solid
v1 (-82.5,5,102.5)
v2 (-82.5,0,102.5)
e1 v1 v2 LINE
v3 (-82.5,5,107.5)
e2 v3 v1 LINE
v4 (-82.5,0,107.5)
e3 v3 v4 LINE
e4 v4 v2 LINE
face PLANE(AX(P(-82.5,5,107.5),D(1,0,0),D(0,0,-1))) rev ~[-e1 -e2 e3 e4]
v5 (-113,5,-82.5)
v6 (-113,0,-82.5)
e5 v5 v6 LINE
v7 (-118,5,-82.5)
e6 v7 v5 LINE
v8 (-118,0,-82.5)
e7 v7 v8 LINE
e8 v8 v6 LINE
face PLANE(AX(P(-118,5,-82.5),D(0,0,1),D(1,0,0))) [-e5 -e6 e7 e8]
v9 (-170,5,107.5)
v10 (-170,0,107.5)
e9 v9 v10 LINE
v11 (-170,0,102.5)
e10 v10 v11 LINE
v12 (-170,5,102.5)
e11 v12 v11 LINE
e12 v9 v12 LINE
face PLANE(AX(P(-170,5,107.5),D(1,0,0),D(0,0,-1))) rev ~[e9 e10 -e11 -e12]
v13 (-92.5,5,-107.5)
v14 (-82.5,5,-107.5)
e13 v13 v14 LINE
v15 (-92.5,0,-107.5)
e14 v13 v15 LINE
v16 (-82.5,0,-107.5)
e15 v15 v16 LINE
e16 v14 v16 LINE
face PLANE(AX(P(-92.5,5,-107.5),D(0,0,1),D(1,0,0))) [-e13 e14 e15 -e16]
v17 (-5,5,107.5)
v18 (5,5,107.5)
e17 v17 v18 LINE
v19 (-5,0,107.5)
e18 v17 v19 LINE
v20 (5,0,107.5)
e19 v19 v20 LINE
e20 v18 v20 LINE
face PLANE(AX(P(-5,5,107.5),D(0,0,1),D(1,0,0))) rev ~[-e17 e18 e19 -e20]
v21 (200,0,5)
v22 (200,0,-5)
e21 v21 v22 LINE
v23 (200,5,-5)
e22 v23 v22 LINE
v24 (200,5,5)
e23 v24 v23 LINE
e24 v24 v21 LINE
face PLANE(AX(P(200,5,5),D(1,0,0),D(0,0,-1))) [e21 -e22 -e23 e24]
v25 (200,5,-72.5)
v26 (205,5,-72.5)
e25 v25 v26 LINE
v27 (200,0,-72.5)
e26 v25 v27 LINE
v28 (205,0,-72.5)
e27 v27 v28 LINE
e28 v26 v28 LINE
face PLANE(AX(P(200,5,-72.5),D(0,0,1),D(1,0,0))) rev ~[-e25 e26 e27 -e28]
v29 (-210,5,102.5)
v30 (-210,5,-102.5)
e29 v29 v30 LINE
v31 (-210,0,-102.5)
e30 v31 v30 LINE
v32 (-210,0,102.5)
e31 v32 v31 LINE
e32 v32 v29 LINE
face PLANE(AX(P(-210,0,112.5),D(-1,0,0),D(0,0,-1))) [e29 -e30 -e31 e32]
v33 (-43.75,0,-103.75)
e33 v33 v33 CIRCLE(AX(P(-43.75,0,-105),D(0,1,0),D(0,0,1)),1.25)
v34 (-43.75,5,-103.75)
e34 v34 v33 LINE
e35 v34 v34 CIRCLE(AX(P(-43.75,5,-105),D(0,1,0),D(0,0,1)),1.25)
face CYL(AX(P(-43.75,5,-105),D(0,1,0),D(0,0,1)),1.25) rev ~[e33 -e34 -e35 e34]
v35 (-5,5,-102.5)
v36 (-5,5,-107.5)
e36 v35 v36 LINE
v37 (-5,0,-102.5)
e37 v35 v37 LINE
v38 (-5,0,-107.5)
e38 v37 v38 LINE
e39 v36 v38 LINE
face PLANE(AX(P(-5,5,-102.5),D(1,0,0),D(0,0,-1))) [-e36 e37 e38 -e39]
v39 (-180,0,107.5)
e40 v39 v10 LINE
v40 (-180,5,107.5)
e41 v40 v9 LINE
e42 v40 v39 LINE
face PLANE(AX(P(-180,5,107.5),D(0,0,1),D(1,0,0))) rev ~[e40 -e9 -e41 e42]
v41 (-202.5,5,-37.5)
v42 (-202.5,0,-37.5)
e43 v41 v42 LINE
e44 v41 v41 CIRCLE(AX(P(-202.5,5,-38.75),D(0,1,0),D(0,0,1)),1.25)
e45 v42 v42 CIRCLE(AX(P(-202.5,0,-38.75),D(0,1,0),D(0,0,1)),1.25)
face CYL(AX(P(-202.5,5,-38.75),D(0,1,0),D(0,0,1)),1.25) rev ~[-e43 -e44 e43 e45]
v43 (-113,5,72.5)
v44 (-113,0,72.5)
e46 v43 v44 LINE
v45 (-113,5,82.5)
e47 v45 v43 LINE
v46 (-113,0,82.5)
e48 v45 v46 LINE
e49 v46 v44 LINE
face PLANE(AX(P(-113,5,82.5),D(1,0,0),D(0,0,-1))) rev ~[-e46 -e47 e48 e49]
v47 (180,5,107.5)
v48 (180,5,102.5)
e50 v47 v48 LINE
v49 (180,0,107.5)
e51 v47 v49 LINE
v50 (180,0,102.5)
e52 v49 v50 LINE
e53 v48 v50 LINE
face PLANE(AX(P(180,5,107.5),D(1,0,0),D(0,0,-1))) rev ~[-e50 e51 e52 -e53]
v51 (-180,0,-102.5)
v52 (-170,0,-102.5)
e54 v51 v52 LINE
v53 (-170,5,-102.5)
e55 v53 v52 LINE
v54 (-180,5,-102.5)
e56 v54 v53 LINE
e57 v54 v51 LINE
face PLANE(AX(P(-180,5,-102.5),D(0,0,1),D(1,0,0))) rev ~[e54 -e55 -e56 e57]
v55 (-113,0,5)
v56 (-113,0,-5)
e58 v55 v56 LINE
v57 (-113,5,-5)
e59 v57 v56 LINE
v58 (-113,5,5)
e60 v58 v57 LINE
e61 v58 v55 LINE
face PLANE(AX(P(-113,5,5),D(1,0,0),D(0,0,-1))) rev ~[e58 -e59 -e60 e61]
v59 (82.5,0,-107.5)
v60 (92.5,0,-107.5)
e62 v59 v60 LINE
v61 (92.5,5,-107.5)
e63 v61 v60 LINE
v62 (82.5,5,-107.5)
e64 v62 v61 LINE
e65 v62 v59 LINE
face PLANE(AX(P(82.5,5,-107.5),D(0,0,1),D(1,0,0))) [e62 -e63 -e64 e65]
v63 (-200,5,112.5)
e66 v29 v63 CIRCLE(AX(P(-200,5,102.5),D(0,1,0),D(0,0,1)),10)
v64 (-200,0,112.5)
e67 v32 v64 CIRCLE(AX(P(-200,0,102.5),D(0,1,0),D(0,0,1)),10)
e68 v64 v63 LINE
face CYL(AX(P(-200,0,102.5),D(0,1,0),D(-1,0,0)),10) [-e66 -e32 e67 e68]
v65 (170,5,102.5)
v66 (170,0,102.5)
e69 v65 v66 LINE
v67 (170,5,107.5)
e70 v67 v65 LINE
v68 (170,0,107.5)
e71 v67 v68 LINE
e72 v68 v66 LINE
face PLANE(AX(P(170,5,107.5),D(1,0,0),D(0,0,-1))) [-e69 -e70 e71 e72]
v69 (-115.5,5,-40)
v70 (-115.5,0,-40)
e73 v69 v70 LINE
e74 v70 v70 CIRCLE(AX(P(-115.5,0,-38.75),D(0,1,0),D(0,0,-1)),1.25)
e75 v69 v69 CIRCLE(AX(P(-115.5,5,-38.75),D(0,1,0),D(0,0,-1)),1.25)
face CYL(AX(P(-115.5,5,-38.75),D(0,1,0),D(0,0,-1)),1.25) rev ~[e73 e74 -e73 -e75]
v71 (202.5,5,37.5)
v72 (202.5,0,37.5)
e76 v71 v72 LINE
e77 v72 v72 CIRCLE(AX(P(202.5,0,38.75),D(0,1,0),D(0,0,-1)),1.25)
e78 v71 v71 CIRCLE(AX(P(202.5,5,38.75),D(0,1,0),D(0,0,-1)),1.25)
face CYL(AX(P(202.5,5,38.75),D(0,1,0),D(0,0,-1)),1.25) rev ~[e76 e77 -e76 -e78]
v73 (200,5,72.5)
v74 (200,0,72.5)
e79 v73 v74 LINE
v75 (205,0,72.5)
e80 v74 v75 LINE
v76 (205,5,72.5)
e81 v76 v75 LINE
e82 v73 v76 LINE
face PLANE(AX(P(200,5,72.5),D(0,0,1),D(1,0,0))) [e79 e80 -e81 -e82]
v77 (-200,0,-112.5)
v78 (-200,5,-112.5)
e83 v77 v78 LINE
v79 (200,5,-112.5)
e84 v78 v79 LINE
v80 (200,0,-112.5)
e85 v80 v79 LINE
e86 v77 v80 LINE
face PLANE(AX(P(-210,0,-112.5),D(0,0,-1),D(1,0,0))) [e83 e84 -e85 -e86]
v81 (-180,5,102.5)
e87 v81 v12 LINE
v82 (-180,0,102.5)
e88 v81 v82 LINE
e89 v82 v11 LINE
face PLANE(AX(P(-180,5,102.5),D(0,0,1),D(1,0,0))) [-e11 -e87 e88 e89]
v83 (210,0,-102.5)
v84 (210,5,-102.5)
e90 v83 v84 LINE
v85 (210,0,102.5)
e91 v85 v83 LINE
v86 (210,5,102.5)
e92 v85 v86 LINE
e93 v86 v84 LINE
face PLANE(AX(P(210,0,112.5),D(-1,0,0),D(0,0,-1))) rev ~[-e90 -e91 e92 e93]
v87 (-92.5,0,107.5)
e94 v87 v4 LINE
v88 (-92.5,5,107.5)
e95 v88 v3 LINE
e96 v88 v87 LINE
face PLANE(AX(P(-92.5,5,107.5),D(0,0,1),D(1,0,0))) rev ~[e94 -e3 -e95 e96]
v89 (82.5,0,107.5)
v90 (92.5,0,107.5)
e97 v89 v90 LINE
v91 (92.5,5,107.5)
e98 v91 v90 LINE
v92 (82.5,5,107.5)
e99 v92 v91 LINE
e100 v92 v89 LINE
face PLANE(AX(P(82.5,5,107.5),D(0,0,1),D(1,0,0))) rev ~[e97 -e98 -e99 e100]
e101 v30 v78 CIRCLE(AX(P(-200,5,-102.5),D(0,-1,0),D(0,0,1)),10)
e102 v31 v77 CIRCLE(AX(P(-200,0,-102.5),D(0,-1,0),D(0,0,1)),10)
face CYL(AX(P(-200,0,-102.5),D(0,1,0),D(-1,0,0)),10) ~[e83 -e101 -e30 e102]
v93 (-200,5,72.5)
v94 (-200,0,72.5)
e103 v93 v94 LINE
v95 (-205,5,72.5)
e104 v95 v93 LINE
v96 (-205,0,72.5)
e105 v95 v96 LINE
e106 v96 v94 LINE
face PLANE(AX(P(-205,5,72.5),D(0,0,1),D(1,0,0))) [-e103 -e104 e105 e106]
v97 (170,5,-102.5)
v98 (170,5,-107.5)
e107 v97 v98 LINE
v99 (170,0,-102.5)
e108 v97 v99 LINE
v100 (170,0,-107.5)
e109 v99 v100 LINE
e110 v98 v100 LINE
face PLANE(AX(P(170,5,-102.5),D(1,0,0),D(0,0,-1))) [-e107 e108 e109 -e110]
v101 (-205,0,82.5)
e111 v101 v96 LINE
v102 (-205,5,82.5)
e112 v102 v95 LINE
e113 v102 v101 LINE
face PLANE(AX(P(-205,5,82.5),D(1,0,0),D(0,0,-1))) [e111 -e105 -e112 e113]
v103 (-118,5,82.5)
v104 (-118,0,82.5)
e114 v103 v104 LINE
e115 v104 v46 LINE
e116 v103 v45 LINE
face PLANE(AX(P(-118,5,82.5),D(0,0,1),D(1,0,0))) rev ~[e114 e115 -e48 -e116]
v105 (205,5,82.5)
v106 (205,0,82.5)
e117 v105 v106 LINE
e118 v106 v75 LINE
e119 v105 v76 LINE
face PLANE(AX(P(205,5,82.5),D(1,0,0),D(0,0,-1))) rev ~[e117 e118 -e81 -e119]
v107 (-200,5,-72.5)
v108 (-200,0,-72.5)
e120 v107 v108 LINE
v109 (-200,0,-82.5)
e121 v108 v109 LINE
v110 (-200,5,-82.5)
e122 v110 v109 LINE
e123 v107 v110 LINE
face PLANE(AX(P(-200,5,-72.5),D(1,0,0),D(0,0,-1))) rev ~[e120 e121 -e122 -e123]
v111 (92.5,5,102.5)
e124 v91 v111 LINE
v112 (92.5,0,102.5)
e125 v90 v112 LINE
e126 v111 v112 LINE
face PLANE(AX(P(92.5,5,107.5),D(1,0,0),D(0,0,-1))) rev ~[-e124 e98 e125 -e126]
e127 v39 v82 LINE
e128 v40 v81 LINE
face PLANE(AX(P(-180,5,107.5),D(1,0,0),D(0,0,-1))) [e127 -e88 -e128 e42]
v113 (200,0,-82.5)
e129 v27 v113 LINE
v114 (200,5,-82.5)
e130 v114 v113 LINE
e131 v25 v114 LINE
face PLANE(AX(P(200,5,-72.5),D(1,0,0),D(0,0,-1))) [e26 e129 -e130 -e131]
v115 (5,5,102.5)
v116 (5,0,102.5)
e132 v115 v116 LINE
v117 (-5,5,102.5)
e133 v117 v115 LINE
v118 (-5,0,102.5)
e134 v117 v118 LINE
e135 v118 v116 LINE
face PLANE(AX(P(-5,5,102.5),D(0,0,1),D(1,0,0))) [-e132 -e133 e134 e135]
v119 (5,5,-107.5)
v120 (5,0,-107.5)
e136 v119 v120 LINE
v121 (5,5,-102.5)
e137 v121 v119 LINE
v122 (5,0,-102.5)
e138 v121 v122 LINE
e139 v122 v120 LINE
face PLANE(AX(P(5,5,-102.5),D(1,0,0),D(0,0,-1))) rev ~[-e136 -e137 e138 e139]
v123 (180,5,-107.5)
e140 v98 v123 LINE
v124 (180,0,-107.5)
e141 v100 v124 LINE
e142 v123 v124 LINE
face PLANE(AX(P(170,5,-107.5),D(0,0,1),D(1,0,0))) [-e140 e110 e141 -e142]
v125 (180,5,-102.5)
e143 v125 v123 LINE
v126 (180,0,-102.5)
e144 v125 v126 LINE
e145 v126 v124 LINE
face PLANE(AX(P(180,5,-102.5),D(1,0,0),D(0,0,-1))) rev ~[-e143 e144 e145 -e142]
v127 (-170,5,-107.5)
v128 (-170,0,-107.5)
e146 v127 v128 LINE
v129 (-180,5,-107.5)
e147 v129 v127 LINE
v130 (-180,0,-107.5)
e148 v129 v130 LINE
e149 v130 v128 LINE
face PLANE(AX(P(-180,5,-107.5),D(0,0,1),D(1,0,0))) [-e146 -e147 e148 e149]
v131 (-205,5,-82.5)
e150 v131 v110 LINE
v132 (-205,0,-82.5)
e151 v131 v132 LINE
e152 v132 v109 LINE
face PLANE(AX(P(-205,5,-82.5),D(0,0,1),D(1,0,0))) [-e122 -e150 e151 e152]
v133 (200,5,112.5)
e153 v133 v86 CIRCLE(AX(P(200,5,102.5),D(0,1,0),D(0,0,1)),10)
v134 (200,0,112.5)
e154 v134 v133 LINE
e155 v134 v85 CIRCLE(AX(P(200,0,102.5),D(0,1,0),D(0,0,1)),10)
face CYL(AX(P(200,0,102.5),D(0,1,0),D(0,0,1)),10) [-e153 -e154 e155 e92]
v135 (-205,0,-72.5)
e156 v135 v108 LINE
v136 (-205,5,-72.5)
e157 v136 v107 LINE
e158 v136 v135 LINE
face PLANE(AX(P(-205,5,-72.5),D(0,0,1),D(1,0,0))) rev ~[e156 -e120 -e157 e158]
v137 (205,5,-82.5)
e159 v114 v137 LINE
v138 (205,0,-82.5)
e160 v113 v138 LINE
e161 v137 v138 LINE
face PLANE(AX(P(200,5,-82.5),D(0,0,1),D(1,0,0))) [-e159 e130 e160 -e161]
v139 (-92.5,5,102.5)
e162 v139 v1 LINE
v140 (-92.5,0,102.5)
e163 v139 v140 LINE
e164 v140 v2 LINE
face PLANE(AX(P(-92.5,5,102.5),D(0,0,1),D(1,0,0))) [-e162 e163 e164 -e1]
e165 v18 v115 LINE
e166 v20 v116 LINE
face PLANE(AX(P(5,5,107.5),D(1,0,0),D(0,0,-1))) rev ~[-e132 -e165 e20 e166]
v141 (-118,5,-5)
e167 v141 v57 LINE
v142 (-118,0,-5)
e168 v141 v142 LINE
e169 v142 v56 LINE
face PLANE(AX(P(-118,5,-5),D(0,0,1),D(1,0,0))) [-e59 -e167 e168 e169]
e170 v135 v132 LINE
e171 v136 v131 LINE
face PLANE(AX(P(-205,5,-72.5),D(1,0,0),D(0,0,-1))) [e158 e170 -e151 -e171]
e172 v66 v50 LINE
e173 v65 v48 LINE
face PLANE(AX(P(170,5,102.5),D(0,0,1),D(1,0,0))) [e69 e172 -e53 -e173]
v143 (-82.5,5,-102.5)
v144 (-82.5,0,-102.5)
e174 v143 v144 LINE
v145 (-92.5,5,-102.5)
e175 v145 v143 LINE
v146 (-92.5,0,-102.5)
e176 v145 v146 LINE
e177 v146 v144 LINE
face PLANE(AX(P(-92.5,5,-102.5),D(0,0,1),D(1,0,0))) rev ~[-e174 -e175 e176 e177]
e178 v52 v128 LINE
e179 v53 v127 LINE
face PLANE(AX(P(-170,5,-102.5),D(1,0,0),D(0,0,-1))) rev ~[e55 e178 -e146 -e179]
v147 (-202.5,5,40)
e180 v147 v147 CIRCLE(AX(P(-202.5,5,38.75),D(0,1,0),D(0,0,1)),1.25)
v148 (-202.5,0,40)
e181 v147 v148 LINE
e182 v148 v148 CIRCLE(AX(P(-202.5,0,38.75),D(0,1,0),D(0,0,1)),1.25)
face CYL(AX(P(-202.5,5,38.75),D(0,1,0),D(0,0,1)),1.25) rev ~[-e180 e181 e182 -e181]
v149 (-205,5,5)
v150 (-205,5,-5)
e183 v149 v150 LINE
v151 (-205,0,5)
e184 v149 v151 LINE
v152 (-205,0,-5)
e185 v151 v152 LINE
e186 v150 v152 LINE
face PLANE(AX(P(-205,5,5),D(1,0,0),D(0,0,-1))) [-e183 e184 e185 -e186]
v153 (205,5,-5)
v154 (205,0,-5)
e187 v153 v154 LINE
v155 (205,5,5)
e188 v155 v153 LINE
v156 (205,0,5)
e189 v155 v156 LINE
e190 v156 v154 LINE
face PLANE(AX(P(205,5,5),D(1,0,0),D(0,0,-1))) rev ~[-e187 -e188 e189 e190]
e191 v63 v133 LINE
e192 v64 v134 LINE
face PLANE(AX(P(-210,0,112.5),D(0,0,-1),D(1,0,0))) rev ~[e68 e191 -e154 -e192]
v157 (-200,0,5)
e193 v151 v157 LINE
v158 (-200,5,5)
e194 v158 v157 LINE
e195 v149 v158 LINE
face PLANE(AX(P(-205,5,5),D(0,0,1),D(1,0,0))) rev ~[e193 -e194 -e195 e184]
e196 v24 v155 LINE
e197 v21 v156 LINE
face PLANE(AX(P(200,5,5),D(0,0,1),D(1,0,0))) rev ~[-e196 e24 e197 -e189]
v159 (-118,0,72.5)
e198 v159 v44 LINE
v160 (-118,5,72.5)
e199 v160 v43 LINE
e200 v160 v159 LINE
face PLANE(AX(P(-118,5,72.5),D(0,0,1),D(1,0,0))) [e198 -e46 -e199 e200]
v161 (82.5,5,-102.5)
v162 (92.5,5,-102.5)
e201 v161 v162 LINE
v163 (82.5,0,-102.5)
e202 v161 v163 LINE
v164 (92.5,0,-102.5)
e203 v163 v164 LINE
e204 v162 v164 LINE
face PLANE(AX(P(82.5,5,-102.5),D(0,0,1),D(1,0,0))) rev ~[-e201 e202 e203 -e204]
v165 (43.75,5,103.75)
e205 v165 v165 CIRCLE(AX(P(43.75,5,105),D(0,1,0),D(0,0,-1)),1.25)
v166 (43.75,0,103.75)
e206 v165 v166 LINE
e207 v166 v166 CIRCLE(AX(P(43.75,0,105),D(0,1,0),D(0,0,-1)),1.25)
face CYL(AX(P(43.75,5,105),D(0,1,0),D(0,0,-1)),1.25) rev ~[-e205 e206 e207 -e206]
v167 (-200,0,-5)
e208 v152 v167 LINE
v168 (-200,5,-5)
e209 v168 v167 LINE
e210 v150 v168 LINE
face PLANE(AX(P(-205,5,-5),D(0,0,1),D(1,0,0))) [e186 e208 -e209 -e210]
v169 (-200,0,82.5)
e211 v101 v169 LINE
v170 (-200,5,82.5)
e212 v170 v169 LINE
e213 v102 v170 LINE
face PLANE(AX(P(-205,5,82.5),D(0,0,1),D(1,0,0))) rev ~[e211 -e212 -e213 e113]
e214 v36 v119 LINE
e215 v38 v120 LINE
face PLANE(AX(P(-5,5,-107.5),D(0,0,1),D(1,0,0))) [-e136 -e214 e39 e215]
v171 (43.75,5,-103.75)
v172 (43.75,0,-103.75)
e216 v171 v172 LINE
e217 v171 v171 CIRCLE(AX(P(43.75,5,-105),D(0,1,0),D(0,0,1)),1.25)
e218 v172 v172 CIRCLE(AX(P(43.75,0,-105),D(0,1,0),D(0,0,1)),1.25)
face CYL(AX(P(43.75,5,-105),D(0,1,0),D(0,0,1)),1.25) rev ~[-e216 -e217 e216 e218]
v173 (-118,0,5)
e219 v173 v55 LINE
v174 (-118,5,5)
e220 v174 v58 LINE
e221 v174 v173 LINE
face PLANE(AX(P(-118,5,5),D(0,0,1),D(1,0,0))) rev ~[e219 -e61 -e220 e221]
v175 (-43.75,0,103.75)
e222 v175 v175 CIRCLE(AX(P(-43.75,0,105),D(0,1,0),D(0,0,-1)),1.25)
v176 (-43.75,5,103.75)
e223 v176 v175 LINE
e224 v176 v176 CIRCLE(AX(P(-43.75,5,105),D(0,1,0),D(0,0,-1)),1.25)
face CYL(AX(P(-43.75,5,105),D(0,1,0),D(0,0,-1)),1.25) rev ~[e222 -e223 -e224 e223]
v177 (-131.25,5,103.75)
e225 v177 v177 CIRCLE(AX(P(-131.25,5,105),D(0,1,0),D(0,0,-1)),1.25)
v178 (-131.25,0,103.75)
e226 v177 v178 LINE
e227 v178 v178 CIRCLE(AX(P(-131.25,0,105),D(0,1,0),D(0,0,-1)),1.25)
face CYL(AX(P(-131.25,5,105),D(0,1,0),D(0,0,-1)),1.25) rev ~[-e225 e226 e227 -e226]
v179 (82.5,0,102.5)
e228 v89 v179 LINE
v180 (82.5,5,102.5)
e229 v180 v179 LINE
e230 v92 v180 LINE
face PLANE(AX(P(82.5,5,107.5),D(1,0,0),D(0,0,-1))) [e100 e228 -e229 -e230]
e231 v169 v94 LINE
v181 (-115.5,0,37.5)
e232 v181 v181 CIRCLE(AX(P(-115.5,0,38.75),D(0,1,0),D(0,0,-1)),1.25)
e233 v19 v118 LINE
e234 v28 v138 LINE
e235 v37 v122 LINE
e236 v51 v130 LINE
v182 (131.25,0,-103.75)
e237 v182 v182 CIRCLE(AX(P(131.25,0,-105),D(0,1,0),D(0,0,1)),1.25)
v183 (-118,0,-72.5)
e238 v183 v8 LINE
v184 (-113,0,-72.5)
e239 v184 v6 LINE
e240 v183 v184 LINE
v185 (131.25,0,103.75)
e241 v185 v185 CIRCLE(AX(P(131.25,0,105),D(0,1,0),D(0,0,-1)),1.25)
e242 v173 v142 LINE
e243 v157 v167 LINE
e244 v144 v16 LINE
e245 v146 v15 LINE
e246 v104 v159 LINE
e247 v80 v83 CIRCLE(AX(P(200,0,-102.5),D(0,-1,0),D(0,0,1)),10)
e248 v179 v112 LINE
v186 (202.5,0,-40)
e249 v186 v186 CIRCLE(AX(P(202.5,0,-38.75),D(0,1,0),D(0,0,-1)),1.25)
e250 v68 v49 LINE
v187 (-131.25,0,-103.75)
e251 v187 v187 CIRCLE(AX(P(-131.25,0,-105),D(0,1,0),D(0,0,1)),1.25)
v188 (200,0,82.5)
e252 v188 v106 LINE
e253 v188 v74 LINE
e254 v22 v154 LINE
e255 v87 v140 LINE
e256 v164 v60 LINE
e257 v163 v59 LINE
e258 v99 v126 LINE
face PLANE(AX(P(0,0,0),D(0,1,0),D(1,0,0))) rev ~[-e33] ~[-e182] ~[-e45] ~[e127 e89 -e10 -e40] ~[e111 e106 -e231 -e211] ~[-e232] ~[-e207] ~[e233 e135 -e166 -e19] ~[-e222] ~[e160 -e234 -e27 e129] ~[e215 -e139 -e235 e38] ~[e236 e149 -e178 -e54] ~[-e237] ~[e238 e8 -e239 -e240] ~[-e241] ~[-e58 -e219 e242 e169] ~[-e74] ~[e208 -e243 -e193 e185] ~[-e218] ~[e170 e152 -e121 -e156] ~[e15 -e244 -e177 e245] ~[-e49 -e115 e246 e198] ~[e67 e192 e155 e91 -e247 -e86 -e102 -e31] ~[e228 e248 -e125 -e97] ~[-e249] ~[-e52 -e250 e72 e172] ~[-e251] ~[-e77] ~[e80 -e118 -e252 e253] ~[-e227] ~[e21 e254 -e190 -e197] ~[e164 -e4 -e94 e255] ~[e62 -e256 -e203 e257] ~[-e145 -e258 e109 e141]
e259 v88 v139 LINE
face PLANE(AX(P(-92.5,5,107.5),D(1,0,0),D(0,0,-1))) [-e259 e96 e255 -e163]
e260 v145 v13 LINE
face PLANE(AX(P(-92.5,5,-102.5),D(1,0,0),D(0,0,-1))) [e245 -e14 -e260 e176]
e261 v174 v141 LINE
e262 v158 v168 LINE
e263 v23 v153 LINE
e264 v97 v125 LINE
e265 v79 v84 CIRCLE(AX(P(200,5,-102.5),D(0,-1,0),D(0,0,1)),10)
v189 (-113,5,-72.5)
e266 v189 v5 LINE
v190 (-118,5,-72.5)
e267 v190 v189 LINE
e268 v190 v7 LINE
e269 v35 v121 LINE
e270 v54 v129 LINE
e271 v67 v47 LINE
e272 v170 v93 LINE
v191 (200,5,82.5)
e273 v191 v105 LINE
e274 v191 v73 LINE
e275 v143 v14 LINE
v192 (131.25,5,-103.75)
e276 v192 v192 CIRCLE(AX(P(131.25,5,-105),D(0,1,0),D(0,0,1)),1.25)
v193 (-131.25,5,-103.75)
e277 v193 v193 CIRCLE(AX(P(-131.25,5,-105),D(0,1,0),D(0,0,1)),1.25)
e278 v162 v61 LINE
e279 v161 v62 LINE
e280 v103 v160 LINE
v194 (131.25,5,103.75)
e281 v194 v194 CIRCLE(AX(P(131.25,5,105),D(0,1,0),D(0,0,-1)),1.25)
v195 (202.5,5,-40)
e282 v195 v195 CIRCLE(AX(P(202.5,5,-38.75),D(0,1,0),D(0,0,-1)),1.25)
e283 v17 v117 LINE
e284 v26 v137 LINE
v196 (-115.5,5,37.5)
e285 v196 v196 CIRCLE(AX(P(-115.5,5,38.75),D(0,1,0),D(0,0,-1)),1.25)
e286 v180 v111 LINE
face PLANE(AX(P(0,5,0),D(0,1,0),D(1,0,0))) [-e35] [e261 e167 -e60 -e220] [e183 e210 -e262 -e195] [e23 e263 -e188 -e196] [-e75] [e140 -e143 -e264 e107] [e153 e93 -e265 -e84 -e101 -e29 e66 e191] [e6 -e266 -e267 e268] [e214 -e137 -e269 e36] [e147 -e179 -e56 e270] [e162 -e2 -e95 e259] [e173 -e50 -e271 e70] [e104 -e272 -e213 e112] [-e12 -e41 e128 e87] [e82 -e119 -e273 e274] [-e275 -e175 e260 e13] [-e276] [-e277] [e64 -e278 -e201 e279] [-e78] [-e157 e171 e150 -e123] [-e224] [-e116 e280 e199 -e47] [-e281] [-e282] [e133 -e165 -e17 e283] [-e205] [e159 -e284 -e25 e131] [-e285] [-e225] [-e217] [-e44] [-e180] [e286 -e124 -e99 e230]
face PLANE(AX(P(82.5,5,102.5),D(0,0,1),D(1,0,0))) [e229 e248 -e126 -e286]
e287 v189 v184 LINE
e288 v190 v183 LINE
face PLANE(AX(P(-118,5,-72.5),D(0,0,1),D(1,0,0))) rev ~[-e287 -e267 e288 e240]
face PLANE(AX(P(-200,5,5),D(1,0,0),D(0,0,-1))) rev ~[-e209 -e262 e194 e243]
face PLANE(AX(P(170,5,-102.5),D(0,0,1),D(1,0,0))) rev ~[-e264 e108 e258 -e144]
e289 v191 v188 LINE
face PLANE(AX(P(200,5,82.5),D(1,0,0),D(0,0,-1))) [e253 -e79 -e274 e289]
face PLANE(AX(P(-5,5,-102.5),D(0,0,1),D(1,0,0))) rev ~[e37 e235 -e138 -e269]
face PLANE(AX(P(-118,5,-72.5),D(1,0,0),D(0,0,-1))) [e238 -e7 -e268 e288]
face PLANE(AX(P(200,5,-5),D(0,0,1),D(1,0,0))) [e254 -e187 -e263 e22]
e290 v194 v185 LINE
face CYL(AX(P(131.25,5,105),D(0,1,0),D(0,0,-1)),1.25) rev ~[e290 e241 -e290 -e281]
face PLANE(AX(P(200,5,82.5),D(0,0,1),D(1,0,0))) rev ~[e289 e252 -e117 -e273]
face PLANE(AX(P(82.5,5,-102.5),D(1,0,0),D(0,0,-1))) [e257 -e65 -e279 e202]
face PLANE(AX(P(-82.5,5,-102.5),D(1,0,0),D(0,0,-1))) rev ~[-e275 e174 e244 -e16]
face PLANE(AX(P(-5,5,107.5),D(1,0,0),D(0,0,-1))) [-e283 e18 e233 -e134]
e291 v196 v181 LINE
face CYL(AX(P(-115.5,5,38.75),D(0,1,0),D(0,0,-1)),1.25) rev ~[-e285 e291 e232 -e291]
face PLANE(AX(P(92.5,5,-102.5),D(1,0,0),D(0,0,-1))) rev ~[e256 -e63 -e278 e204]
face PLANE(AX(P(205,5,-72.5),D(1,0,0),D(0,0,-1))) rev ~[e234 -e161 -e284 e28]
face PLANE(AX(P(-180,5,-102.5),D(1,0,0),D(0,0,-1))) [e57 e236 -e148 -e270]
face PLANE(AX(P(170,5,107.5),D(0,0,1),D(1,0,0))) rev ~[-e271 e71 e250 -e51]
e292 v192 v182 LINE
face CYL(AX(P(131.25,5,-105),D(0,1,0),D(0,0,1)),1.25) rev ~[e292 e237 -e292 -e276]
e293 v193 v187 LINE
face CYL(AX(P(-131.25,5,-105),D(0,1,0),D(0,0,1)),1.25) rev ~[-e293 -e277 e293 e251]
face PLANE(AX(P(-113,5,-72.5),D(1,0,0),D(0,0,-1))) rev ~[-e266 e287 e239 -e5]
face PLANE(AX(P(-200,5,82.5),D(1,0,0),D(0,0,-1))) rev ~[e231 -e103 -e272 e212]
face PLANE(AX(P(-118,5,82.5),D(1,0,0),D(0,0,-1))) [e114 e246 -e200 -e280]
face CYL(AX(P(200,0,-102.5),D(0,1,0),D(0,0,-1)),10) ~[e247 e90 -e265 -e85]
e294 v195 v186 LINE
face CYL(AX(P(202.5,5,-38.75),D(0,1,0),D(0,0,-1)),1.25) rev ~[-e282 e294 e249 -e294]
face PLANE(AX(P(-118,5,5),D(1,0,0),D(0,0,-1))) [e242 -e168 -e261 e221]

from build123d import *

# Parameters (mm, degrees)
SKETCH1_W           = 420
SKETCH1_H           = 225
BOSS_EXTRUDE1_DEPTH = 5
SKETCH2_W           = 5
SKETCH2_H           = 10
SKETCH2_W_2         = 10
SKETCH2_H_2         = 5
CUT_EXTRUDE1_DEPTH  = 239.288165883
FILLET1_R           = 10
SKETCH3_R           = 1.25
CUT_EXTRUDE2_DEPTH  = 239.288165883


with BuildPart() as part:
    # Sketch1 → Boss-Extrude1 (new body)
    with BuildSketch(Plane(origin=(0, 0, 0), x_dir=(1, 0, 0), z_dir=(0, 1, 0))):
        Rectangle(SKETCH1_W, SKETCH1_H)
    extrude(amount=BOSS_EXTRUDE1_DEPTH)

    # Sketch2 → Cut-Extrude1 (cut, through all)
    with BuildSketch(Plane(origin=(0, 5, 0), x_dir=(1, 0, 0), z_dir=(0, 1, 0))):
        with Locations((202.5, -77.5)):
            Rectangle(SKETCH2_W, SKETCH2_H)
        with Locations((-87.5, 105)):
            Rectangle(SKETCH2_W_2, SKETCH2_H_2)
        with Locations((-175, 105)):
            Rectangle(SKETCH2_W_2, SKETCH2_H_2)
        with Locations((-202.5, 77.5)):
            Rectangle(SKETCH2_W, SKETCH2_H)
        with Locations((0, 105)):
            Rectangle(SKETCH2_W_2, SKETCH2_H_2)
        with Locations((87.5, 105)):
            Rectangle(SKETCH2_W_2, SKETCH2_H_2)
        with Locations((175, 105)):
            Rectangle(SKETCH2_W_2, SKETCH2_H_2)
        with Locations((-202.5, 0)):
            Rectangle(SKETCH2_W, SKETCH2_H)
        with Locations((-202.5, -77.5)):
            Rectangle(SKETCH2_W, SKETCH2_H)
        with Locations((202.5, 0)):
            Rectangle(SKETCH2_W, SKETCH2_H)
        with Locations((202.5, 77.5)):
            Rectangle(SKETCH2_W, SKETCH2_H)
        with Locations((175, -105)):
            Rectangle(SKETCH2_W_2, SKETCH2_H_2)
        with Locations((87.5, -105)):
            Rectangle(SKETCH2_W_2, SKETCH2_H_2)
        with Locations((0, -105)):
            Rectangle(SKETCH2_W_2, SKETCH2_H_2)
        with Locations((-87.5, -105)):
            Rectangle(SKETCH2_W_2, SKETCH2_H_2)
        with Locations((-175, -105)):
            Rectangle(SKETCH2_W_2, SKETCH2_H_2)
        with Locations((-115.5, 77.5)):
            Rectangle(SKETCH2_W, SKETCH2_H)
        with Locations((-115.5, -77.5)):
            Rectangle(SKETCH2_W, SKETCH2_H)
        with Locations((-115.5, 0)):
            Rectangle(SKETCH2_W, SKETCH2_H)
    extrude(amount=-CUT_EXTRUDE1_DEPTH, mode=Mode.SUBTRACT)

    # Fillet1
    fillet1_edges = [part.edges().sort_by_distance(p)[0] for p in [
        (210, 2.5, 112.5),
        (-210, 2.5, 112.5),
        (-210, 2.5, -112.5),
        (210, 2.5, -112.5),
    ]]
    fillet(fillet1_edges, radius=FILLET1_R)

    # Sketch3 → Cut-Extrude2 (cut, through all)
    with BuildSketch(Plane(origin=(0, 5, 0), x_dir=(1, 0, 0), z_dir=(0, 1, 0))):
        with Locations(Location((-131.25, 105, 0), (0, 0, 270))):
            Circle(SKETCH3_R)
        with Locations(Location((-202.5, 38.75, 0), (0, 0, 270))):
            Circle(SKETCH3_R)
        with Locations(Location((-202.5, -38.75, 0), (0, 0, 270))):
            Circle(SKETCH3_R)
        with Locations(Location((-43.75, 105, 0), (0, 0, 270))):
            Circle(SKETCH3_R)
        with Locations(Location((43.75, 105, 0), (0, 0, 270))):
            Circle(SKETCH3_R)
        with Locations(Location((131.25, 105, 0), (0, 0, 270))):
            Circle(SKETCH3_R)
        with Locations(Location((-115.5, -38.75, 0), (0, 0, 90))):
            Circle(SKETCH3_R)
        with Locations(Location((-115.5, 38.75, 0), (0, 0, 90))):
            Circle(SKETCH3_R)
        with Locations(Location((202.5, -38.75, 0), (0, 0, 90))):
            Circle(SKETCH3_R)
        with Locations(Location((202.5, 38.75, 0), (0, 0, 90))):
            Circle(SKETCH3_R)
        with Locations(Location((131.25, -105, 0), (0, 0, 90))):
            Circle(SKETCH3_R)
        with Locations(Location((43.75, -105, 0), (0, 0, 90))):
            Circle(SKETCH3_R)
        with Locations(Location((-43.75, -105, 0), (0, 0, 90))):
            Circle(SKETCH3_R)
        with Locations(Location((-131.25, -105, 0), (0, 0, 90))):
            Circle(SKETCH3_R)
    extrude(amount=-CUT_EXTRUDE2_DEPTH, mode=Mode.SUBTRACT)


solid = part.part
